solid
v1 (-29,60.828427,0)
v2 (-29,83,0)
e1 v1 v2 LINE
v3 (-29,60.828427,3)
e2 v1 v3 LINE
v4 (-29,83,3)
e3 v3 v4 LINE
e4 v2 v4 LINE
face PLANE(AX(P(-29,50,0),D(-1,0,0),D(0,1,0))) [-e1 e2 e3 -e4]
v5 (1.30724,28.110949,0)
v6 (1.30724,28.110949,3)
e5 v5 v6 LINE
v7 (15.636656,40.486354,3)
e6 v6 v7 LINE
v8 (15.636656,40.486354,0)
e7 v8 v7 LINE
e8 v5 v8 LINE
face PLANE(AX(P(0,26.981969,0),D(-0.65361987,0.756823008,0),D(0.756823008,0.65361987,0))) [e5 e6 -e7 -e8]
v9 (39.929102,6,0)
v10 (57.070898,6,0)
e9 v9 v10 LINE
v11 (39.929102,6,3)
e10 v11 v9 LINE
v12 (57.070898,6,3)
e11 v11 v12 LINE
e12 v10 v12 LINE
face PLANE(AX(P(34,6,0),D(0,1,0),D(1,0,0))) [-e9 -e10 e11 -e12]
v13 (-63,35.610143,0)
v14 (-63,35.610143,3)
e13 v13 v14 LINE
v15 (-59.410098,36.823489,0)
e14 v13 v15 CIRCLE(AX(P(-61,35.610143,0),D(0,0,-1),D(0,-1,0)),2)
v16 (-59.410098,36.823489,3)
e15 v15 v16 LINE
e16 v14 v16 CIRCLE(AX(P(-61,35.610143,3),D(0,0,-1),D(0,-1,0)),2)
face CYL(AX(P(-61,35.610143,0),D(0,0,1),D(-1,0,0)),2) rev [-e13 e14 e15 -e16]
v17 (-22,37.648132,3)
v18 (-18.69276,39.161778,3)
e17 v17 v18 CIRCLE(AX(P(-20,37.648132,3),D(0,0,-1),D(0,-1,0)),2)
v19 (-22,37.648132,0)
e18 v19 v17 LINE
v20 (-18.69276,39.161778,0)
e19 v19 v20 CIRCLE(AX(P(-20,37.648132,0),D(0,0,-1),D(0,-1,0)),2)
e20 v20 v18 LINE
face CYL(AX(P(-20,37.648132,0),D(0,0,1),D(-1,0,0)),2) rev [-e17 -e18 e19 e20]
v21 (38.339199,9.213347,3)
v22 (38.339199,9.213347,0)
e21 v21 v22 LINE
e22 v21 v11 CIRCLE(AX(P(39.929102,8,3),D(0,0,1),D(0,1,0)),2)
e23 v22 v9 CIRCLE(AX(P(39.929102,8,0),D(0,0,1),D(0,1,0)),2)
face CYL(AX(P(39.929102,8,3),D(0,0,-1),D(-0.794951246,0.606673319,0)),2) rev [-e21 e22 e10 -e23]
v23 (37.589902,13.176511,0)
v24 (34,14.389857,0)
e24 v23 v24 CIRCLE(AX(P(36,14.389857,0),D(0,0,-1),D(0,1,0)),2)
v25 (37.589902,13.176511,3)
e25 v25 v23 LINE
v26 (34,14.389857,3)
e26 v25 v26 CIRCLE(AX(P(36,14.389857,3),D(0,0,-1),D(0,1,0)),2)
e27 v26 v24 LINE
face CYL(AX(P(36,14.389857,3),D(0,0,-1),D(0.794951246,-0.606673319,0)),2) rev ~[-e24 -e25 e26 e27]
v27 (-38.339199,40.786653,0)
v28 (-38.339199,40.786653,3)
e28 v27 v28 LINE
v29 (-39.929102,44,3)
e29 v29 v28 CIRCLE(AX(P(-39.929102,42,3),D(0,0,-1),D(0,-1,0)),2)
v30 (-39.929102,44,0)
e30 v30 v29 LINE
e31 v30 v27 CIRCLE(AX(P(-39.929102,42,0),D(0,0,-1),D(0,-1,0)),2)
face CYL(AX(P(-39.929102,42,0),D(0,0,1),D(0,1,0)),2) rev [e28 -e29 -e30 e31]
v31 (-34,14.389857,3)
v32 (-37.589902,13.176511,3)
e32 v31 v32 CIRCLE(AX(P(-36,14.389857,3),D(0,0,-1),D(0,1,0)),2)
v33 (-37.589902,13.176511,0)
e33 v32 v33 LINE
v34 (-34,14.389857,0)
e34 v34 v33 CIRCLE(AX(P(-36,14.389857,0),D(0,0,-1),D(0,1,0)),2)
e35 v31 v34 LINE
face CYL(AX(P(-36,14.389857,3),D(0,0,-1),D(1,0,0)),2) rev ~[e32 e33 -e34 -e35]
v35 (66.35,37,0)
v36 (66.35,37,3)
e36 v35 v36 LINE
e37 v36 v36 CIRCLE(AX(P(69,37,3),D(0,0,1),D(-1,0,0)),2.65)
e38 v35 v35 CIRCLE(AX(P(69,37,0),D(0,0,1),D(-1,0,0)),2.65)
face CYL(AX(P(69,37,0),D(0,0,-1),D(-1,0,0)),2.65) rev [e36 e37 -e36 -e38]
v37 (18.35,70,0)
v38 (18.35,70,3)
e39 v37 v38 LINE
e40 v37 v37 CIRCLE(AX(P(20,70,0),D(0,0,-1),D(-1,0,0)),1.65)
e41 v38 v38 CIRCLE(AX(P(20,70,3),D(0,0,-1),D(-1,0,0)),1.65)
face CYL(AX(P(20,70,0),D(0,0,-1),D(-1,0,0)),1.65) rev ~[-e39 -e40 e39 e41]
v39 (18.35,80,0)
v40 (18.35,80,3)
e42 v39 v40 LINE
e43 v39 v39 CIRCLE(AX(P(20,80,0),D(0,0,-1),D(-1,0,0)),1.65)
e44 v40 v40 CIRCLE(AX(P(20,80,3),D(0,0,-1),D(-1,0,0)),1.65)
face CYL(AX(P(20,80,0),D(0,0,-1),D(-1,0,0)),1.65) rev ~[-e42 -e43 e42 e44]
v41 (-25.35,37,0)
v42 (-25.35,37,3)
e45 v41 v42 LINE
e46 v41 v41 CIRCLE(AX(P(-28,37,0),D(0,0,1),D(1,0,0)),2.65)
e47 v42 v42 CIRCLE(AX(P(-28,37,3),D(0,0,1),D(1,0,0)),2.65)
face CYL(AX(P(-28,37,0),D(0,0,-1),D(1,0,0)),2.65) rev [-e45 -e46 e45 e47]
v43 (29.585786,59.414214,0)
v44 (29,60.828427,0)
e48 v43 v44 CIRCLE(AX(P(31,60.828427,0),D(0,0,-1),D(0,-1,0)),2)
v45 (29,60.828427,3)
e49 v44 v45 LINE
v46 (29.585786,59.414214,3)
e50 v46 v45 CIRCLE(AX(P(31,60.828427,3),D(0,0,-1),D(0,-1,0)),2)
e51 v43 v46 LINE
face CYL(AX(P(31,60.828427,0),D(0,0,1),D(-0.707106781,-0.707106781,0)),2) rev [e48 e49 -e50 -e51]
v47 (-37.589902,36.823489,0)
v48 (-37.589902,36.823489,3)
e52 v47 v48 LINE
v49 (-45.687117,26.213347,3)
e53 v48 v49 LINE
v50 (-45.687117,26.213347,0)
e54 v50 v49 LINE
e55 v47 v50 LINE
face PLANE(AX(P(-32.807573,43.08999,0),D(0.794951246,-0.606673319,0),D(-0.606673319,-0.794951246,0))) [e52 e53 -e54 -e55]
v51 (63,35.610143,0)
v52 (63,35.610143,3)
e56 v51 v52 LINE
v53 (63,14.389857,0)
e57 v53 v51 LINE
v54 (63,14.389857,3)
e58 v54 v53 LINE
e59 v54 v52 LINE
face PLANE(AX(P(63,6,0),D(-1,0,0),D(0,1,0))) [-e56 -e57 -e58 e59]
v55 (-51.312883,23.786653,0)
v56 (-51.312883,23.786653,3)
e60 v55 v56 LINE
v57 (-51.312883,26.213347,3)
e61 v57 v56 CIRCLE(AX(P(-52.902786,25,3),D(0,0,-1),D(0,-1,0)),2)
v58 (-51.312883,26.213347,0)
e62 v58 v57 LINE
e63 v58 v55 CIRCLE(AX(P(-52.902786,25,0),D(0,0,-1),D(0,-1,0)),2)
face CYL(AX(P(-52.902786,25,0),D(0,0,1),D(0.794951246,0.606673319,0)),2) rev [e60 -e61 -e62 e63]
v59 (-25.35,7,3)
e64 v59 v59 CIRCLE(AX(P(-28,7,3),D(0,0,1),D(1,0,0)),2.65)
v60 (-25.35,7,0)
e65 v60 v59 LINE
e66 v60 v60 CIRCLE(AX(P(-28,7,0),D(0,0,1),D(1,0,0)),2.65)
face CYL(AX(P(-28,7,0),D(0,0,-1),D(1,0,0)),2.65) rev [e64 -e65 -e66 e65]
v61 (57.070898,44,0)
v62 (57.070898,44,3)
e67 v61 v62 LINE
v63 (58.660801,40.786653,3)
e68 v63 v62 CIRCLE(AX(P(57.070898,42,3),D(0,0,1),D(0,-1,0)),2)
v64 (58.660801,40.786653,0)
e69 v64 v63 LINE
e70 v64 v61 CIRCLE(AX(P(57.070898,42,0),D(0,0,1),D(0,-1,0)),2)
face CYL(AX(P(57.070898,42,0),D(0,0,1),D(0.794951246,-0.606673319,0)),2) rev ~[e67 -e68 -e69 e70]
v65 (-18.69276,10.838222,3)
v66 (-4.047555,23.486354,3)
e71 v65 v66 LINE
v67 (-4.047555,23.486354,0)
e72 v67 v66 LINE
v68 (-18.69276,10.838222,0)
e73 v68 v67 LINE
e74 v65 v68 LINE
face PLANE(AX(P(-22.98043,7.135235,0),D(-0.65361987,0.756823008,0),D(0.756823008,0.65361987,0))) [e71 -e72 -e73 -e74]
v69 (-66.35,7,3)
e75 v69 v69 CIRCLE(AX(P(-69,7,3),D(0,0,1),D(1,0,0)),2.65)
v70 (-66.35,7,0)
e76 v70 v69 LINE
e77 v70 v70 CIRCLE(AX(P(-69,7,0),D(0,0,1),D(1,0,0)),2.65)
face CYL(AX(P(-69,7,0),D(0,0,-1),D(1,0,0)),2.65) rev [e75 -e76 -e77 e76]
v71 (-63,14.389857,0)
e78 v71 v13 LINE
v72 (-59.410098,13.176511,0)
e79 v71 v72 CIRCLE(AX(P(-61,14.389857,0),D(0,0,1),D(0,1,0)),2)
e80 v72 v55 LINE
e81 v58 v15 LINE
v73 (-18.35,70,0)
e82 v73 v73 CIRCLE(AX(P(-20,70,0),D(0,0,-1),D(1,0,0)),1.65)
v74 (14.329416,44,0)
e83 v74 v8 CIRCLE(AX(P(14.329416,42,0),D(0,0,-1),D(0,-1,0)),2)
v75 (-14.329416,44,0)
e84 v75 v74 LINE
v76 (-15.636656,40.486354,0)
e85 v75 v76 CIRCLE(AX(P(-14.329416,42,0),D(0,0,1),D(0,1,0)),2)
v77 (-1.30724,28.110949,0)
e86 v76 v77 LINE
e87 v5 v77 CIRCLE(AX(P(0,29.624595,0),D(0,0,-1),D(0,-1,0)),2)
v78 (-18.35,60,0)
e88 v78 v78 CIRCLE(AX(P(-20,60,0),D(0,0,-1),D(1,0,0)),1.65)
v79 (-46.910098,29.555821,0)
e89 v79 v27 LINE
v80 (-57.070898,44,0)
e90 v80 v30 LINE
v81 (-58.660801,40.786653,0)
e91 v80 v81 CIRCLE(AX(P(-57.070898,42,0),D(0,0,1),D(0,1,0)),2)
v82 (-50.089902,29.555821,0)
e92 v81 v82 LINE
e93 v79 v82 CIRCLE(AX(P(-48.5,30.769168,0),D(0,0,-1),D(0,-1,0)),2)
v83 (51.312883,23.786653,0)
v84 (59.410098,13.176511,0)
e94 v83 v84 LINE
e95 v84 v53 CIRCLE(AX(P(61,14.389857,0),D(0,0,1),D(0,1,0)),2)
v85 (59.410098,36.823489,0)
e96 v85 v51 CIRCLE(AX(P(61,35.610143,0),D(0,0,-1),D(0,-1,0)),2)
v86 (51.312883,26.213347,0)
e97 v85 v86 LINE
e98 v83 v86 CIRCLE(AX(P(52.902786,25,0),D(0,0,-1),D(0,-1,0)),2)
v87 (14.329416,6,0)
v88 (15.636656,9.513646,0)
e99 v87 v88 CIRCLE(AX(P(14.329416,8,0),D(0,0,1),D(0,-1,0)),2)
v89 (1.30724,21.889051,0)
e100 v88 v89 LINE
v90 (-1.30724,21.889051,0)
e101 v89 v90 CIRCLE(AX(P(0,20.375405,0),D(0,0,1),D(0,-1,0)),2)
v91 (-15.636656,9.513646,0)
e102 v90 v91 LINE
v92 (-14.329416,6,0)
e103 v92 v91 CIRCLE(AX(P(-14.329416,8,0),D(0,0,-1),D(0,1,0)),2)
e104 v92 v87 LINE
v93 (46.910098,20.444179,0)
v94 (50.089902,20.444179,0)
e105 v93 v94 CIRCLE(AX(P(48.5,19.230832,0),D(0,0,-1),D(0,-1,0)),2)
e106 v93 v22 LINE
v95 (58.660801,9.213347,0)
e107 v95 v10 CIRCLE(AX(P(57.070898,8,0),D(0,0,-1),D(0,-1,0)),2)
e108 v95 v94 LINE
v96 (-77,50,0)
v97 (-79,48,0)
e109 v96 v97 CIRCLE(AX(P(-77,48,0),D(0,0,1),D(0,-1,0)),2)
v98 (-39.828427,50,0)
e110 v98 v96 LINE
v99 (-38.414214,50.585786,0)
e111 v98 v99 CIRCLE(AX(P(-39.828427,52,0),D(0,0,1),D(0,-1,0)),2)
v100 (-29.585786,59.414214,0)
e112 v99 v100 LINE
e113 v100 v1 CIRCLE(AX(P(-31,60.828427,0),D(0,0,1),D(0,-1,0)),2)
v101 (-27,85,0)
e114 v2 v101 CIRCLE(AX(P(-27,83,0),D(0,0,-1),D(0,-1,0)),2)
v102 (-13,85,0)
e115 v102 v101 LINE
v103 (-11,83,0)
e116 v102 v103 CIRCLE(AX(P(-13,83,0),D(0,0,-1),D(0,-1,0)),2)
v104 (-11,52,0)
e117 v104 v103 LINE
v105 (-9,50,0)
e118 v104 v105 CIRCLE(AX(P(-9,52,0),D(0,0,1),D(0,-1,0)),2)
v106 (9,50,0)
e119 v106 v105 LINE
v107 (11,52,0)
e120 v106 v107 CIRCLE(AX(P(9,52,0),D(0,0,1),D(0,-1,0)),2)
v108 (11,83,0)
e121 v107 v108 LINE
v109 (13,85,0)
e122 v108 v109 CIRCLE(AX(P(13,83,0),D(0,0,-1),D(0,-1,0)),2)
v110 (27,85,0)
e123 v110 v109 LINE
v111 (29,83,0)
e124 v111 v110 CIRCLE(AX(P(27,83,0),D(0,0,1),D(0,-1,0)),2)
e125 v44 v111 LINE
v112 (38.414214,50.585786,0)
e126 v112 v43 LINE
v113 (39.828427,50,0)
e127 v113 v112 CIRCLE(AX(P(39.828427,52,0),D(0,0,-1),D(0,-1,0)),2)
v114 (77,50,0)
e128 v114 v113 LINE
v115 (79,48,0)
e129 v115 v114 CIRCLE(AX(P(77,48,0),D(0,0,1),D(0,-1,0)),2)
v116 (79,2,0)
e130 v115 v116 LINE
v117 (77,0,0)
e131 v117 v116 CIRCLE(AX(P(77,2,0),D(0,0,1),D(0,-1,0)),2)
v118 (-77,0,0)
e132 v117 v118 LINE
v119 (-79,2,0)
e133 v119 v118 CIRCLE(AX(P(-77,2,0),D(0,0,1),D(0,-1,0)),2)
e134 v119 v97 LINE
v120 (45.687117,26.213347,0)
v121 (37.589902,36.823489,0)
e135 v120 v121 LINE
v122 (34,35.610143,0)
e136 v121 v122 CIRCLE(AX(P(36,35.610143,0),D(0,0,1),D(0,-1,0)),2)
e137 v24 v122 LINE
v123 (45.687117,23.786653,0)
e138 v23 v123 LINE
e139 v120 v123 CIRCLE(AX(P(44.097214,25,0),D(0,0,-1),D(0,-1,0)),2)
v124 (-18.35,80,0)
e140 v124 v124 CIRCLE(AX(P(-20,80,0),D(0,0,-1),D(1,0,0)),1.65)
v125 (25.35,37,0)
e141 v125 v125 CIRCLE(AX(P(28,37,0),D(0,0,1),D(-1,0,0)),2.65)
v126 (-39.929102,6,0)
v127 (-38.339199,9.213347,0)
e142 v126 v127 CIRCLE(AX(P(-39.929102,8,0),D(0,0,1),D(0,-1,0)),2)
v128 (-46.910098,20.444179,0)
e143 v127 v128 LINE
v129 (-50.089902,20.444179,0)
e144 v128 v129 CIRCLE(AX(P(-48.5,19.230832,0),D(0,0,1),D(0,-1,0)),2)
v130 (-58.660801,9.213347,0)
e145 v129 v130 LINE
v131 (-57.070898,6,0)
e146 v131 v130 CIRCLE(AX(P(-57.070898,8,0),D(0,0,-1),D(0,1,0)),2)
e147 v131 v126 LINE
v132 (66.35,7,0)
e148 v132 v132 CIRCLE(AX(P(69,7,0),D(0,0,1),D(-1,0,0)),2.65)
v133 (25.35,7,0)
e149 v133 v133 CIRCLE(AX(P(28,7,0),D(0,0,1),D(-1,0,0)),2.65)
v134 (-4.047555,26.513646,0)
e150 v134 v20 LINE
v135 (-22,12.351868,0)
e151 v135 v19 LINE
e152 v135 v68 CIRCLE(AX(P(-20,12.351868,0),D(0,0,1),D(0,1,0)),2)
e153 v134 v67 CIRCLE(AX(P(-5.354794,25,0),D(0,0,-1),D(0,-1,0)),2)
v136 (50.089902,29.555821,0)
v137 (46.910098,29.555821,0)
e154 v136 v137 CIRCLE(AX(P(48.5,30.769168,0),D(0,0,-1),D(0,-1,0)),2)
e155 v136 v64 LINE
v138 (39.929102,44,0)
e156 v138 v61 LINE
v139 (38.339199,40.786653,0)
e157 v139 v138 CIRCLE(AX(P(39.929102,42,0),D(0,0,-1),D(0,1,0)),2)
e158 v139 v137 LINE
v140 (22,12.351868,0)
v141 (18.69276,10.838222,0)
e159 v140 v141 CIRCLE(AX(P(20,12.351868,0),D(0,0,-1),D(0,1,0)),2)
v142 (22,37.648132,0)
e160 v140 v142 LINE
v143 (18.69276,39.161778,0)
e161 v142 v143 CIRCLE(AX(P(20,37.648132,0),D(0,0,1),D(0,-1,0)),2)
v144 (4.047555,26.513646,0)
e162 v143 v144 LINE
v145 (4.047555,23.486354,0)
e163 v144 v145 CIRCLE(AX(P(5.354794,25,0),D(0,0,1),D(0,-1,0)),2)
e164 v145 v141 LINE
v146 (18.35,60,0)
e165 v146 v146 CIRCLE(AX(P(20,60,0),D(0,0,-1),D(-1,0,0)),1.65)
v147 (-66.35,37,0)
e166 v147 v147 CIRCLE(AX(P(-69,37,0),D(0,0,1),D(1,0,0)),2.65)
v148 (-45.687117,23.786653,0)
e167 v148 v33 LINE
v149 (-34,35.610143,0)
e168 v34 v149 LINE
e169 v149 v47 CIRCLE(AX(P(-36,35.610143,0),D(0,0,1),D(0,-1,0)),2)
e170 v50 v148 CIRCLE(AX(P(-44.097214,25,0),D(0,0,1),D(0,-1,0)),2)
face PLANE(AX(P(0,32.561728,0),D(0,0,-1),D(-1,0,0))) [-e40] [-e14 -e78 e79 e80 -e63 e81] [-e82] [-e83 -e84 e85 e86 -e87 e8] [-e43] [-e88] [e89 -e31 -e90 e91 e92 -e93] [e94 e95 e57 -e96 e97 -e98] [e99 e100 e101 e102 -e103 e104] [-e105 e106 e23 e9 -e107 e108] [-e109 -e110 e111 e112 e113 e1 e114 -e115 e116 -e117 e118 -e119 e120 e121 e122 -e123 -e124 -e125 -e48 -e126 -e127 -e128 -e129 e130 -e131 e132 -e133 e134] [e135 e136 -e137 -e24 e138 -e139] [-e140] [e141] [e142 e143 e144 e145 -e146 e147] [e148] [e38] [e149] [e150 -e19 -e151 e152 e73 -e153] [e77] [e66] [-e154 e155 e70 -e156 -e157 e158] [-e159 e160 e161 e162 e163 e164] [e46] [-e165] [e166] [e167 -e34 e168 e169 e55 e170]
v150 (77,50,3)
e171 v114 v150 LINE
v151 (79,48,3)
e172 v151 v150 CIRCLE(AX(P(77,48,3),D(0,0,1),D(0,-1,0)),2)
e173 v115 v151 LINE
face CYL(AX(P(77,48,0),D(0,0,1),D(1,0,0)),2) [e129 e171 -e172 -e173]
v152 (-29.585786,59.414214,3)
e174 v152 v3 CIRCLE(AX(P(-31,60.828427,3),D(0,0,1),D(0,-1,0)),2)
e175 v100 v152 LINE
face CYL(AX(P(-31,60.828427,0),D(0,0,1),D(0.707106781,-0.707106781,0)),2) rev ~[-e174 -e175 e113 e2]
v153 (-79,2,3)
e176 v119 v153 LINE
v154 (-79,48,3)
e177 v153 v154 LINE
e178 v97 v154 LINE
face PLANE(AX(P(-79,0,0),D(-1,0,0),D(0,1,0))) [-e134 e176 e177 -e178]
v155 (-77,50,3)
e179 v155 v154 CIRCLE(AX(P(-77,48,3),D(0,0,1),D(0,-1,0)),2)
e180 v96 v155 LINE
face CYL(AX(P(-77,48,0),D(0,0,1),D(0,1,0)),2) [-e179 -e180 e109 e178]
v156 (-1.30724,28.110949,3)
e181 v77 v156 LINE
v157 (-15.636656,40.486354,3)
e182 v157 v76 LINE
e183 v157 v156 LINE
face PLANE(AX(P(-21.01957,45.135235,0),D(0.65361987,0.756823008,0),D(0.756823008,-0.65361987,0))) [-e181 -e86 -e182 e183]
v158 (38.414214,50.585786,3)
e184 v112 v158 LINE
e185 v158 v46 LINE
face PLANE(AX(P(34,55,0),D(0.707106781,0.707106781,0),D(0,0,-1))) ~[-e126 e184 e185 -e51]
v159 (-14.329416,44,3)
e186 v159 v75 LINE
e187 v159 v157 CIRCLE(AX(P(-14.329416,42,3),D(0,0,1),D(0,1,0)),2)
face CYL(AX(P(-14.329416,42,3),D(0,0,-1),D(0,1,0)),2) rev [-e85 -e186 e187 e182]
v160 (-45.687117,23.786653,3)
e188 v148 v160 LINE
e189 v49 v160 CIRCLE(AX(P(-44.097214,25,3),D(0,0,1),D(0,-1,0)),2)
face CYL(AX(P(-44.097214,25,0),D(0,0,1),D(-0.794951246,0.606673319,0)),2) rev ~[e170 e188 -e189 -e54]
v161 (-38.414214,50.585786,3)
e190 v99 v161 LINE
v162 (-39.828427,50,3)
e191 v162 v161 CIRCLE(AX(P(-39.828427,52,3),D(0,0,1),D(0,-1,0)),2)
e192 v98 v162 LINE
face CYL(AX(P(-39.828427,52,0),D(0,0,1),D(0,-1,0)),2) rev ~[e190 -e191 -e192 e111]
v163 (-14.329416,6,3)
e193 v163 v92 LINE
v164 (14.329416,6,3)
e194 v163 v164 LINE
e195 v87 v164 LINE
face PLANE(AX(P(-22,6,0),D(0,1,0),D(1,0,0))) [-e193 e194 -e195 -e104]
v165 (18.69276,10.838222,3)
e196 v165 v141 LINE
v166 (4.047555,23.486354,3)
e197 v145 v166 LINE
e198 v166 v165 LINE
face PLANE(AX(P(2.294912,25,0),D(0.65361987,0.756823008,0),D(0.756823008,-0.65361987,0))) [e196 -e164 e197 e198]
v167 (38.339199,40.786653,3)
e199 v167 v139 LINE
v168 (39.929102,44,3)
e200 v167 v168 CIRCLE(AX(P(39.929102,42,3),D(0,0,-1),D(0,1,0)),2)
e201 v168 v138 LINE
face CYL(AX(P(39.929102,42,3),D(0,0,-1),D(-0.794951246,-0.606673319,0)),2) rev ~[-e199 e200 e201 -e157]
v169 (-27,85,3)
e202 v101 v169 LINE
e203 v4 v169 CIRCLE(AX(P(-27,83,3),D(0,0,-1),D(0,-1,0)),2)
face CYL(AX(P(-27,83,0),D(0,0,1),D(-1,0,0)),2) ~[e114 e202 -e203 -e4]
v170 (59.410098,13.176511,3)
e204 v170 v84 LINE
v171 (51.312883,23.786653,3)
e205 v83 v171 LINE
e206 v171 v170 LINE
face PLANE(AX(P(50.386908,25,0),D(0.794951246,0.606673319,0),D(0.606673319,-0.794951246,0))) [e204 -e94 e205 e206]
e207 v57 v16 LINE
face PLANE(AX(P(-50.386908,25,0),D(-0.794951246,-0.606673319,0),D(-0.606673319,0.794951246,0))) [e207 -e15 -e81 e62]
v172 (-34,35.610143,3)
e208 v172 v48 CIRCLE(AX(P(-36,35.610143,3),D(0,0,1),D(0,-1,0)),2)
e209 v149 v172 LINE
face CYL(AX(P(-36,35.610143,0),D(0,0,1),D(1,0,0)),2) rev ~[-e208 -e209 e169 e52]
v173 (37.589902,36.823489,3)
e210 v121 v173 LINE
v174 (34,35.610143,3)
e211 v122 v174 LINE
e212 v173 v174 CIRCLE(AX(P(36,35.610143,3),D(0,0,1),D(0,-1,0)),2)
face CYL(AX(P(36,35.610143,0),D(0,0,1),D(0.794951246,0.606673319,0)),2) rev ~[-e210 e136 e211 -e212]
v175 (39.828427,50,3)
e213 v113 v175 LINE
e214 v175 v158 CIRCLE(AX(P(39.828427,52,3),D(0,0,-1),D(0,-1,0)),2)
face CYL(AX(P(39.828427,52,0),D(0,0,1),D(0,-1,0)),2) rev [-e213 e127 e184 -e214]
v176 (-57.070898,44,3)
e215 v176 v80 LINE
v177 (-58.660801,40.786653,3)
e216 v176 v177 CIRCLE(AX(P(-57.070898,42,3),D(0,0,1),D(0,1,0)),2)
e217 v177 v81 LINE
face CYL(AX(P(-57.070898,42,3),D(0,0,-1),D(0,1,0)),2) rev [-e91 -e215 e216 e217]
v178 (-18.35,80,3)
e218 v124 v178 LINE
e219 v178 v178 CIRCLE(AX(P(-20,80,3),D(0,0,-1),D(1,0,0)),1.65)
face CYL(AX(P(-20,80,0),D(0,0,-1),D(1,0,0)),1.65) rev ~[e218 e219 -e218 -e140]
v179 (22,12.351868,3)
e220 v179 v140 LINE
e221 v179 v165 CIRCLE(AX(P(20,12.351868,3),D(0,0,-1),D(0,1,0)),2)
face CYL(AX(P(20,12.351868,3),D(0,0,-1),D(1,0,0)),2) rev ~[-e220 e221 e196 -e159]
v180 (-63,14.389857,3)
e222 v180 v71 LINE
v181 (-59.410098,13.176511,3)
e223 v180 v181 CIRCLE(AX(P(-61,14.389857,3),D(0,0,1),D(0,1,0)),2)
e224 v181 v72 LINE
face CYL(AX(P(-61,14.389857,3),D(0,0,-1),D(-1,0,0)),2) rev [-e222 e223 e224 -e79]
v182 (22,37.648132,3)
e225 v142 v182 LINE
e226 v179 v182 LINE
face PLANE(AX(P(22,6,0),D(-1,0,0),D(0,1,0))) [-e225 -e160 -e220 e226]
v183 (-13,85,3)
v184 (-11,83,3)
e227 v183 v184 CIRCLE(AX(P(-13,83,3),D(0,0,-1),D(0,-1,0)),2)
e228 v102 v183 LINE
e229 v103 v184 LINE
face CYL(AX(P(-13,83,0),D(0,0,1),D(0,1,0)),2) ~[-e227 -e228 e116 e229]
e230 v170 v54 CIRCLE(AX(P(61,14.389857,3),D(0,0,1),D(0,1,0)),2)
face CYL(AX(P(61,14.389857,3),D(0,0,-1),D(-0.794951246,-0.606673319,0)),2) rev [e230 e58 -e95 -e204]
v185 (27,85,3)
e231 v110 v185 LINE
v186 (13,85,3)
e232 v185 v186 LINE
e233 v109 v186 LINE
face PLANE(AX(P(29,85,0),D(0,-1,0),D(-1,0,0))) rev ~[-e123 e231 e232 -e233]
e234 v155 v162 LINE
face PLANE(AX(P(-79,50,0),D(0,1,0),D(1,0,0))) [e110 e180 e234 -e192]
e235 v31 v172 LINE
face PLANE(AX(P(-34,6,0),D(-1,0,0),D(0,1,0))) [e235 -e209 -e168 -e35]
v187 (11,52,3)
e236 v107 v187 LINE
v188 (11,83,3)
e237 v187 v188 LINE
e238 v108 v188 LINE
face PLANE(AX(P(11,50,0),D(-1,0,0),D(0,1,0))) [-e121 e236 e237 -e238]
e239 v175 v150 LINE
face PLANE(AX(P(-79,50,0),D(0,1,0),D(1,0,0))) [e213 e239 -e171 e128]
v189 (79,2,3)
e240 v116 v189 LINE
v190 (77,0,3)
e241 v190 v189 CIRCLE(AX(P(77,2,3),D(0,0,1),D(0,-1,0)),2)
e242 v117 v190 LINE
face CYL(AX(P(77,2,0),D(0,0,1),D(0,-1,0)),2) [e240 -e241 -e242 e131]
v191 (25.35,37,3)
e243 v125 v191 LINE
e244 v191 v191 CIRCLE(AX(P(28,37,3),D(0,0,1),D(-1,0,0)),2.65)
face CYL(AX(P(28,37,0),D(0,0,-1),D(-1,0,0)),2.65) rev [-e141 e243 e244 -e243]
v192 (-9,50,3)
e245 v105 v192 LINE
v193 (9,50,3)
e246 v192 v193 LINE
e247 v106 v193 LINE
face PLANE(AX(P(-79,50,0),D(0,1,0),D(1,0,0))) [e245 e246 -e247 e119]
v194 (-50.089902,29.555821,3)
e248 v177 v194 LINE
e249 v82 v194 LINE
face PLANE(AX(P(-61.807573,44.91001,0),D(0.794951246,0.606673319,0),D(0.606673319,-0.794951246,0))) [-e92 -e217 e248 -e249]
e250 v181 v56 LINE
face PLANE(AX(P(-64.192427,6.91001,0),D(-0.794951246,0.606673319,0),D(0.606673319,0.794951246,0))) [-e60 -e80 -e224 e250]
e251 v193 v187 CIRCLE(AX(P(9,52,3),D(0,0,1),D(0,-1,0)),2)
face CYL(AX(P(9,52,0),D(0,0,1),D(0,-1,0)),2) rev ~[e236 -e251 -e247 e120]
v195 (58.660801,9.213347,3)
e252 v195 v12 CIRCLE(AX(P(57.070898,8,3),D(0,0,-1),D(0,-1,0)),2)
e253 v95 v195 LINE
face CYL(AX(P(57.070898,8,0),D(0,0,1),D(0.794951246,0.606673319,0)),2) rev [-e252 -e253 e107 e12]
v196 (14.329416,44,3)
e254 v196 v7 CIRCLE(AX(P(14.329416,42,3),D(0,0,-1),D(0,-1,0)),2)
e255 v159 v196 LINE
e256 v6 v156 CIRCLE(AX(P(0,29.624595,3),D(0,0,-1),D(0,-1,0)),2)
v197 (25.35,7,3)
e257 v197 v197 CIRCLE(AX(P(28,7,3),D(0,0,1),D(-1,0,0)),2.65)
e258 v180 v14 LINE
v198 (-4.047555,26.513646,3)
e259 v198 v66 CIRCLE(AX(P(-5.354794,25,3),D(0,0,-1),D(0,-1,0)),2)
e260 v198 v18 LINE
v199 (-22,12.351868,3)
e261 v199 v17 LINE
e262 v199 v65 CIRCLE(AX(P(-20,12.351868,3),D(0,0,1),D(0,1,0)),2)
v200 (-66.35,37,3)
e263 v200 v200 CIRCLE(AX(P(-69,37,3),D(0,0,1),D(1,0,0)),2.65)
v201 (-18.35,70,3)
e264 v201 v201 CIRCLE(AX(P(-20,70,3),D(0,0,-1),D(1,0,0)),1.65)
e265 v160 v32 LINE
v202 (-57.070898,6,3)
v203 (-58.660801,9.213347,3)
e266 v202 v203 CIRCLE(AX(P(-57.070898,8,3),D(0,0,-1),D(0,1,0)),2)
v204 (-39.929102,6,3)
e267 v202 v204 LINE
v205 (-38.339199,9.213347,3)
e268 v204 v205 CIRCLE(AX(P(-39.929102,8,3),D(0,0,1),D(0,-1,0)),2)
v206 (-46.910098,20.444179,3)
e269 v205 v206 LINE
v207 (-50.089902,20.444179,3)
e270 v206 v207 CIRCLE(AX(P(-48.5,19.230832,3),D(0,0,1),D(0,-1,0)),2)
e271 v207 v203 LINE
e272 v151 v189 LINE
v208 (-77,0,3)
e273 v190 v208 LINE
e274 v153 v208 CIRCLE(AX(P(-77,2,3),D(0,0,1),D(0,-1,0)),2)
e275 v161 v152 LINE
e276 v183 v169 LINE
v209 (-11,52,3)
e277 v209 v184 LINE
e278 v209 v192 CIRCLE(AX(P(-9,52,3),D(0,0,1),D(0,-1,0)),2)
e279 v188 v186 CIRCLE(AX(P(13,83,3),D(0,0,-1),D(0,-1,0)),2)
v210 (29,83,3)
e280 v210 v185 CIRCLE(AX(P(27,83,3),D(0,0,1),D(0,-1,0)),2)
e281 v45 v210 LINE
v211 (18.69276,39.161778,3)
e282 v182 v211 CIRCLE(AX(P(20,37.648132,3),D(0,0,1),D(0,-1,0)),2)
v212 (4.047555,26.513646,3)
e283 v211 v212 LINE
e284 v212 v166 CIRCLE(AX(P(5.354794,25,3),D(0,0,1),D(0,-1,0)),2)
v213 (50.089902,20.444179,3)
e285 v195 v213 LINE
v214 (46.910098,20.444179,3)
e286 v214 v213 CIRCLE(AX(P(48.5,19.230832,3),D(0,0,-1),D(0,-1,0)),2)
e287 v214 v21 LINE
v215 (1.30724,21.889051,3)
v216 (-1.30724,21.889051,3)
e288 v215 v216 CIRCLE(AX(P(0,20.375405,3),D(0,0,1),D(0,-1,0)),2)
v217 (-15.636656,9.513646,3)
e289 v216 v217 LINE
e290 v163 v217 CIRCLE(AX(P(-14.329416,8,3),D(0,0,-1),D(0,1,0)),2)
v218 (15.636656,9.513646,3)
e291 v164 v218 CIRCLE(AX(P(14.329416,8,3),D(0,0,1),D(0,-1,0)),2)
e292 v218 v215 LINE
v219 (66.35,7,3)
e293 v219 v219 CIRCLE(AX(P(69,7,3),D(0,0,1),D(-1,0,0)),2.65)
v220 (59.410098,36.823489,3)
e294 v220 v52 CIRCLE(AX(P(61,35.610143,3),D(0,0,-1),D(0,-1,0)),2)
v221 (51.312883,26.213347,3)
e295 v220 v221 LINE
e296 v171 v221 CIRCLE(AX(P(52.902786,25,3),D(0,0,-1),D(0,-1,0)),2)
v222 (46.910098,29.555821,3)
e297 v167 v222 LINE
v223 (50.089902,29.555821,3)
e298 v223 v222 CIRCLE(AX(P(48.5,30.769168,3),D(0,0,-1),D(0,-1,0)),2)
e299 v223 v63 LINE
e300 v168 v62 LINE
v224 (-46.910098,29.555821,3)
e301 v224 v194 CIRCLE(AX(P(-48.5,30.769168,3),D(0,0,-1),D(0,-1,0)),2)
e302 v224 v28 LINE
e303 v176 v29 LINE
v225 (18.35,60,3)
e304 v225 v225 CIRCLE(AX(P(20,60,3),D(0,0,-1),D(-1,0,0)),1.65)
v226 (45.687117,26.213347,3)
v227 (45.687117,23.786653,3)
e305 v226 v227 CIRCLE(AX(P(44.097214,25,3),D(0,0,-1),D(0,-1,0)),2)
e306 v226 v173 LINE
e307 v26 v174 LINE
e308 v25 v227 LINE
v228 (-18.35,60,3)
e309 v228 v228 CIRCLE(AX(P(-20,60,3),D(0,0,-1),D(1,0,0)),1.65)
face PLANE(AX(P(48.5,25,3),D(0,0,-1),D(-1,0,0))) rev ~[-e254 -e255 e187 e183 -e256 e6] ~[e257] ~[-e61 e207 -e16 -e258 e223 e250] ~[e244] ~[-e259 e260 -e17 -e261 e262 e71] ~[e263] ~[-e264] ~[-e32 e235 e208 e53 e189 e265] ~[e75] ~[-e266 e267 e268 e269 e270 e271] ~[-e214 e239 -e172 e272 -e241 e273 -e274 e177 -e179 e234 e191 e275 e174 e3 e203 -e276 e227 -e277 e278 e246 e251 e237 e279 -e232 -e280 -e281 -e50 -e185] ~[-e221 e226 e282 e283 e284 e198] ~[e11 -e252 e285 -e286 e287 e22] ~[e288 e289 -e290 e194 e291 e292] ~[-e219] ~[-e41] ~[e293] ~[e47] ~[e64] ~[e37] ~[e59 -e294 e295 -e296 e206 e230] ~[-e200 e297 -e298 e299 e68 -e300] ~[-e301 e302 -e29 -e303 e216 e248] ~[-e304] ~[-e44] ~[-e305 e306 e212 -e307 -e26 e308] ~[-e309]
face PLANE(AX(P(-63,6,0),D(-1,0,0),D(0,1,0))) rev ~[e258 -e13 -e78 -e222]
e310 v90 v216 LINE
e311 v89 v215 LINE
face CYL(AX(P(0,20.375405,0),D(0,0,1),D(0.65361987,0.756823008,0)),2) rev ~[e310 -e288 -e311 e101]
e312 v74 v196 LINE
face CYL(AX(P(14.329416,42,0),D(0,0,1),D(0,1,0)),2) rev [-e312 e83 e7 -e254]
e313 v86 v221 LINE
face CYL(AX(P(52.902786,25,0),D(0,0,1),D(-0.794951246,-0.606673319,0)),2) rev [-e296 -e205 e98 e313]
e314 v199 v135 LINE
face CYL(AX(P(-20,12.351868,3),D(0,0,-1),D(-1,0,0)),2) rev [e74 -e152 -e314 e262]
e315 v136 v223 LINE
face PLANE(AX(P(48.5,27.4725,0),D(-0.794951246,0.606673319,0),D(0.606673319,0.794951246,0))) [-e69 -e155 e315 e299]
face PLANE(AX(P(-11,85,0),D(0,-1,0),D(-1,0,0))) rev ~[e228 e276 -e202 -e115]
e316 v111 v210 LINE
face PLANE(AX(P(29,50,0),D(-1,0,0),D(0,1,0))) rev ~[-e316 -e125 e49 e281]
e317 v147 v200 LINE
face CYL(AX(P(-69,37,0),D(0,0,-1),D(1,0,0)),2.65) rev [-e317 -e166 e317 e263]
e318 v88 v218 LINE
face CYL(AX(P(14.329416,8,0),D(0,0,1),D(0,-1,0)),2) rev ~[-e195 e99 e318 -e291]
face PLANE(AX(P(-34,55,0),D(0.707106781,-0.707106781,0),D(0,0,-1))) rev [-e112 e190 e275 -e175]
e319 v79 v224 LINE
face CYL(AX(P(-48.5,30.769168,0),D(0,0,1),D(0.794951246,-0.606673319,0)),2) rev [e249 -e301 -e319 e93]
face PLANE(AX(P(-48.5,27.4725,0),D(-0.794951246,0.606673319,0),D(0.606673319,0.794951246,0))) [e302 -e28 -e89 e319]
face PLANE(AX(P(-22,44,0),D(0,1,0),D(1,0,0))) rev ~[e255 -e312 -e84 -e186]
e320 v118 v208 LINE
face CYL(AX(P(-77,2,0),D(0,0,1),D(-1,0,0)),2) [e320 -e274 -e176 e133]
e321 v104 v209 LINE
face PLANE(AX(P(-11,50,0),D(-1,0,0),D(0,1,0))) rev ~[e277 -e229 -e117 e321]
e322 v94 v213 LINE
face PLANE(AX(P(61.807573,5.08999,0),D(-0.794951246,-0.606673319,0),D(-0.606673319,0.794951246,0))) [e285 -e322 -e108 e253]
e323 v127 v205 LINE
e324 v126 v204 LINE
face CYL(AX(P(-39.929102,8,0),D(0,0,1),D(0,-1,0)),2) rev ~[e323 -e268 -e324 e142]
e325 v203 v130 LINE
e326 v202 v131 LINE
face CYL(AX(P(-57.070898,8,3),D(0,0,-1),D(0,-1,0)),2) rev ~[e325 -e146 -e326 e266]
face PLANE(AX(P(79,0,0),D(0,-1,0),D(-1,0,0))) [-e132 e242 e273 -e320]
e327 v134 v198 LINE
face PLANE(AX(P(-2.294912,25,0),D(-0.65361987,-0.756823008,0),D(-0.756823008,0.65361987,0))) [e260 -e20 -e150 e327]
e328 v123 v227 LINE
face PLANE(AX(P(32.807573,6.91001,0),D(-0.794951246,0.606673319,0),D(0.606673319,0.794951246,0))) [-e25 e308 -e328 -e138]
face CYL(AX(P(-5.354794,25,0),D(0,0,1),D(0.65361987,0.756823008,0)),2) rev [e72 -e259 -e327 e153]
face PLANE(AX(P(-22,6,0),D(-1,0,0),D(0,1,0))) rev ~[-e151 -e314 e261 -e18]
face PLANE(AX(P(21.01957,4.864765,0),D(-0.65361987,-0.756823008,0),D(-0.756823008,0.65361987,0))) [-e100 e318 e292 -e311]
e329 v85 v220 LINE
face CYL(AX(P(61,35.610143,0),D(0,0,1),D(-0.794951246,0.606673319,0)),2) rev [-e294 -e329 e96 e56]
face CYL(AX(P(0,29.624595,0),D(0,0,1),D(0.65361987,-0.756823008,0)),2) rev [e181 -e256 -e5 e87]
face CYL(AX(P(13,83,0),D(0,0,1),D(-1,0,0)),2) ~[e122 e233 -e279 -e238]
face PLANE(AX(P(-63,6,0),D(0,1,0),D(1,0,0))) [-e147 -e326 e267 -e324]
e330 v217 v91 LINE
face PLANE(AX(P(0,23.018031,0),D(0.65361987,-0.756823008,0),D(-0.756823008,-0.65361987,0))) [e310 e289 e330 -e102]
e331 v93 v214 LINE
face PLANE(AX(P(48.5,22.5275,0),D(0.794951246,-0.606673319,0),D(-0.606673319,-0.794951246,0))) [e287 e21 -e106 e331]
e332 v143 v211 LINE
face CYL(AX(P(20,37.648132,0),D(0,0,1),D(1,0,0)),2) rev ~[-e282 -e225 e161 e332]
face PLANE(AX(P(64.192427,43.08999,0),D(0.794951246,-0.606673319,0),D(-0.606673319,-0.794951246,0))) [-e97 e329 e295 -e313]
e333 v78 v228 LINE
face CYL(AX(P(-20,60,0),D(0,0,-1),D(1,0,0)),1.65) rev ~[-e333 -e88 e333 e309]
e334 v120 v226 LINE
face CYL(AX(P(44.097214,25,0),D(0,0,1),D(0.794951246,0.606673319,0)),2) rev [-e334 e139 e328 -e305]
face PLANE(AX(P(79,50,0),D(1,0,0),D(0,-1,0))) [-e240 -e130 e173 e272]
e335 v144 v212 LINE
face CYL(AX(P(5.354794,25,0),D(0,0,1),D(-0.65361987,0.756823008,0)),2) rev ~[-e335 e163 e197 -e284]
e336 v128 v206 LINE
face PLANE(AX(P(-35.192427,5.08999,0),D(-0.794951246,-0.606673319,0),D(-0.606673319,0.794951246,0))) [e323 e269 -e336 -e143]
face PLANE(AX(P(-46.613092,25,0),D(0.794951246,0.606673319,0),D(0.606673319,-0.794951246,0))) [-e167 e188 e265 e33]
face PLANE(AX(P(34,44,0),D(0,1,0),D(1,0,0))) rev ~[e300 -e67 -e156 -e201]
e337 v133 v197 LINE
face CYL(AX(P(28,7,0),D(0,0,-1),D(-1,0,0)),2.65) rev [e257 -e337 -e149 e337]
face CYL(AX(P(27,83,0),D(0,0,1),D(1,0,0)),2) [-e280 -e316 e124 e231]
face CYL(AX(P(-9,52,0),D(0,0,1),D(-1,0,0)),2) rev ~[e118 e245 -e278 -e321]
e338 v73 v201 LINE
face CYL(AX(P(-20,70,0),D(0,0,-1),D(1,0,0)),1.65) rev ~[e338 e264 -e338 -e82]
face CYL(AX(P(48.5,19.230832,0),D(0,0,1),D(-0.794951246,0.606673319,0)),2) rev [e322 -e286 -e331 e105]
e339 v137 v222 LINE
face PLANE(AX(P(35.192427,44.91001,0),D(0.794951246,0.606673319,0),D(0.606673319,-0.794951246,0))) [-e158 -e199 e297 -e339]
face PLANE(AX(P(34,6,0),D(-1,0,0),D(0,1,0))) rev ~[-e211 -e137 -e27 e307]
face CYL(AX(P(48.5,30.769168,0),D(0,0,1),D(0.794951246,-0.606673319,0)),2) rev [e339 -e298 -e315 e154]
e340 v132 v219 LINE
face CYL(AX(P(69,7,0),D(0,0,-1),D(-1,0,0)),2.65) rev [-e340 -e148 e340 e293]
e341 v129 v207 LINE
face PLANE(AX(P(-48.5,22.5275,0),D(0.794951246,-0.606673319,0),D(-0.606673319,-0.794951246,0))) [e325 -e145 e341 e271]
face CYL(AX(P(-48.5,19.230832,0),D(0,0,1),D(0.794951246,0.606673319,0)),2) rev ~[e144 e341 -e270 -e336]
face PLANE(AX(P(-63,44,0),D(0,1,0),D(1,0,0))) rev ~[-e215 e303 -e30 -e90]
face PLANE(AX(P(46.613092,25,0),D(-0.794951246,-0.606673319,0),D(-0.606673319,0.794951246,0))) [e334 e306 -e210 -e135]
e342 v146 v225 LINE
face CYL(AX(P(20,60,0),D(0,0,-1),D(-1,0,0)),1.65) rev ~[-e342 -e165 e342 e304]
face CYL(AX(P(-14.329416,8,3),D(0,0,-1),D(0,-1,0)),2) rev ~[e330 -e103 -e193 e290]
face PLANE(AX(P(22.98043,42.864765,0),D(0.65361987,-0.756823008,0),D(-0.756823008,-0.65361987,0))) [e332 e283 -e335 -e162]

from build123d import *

# Parameters (mm, degrees)
SKETCH_1_R          = 1.55
SKETCH_1_R_2        = 2.65
SKETCH_1_W          = 29
SKETCH_1_H          = 38
SKETCH_1_W_2        = 44
EXTRUDE_1_DEPTH     = 3
SKETCH_4_W          = 20
SKETCH_4_H          = 35
CUT_EXTRUDE_1_DEPTH = 10
SKETCH_3_W          = 18
SKETCH_3_H          = 35
EXTRUDE_2_DEPTH     = 3
SKETCH_5_R          = 1.65
CUT_EXTRUDE_2_DEPTH = 5
CHAMFER_1_SIZE      = 10
FILLET_1_R          = 2
EXTRUDE_1_2_DEPTH   = 3
FILLET_3_R          = 2


with BuildPart() as part:
    # 草图1 → Extrude 1 (new body)
    with BuildSketch(Plane.XY):
        Polygon((-10, 50), (-10, 85), (10, 85), (10, 50), (79, 50), (79, 0), (-79, 0), (-79, 50), align=None)
        with Locations((-6, 81)):
            Circle(SKETCH_1_R, mode=Mode.SUBTRACT)
        with Locations(Location((6, 81, 0), (0, 0, 180))):
            Circle(SKETCH_1_R, mode=Mode.SUBTRACT)
        with Locations((-6, 59)):
            Circle(SKETCH_1_R, mode=Mode.SUBTRACT)
        with Locations(Location((6, 59, 0), (0, 0, 180))):
            Circle(SKETCH_1_R, mode=Mode.SUBTRACT)
        with Locations((-69, 37)):
            Circle(SKETCH_1_R_2, mode=Mode.SUBTRACT)
        with Locations((-69, 7)):
            Circle(SKETCH_1_R_2, mode=Mode.SUBTRACT)
        with Locations(Location((69, 7, 0), (0, 0, 180))):
            Circle(SKETCH_1_R_2, mode=Mode.SUBTRACT)
        with Locations(Location((69, 37, 0), (0, 0, 180))):
            Circle(SKETCH_1_R_2, mode=Mode.SUBTRACT)
        with Locations((-28, 37)):
            Circle(SKETCH_1_R_2, mode=Mode.SUBTRACT)
        with Locations((-28, 7)):
            Circle(SKETCH_1_R_2, mode=Mode.SUBTRACT)
        with Locations(Location((28, 7, 0), (0, 0, 180))):
            Circle(SKETCH_1_R_2, mode=Mode.SUBTRACT)
        with Locations(Location((28, 37, 0), (0, 0, 180))):
            Circle(SKETCH_1_R_2, mode=Mode.SUBTRACT)
        with Locations((-48.5, 25)):
            Rectangle(SKETCH_1_W, SKETCH_1_H, mode=Mode.SUBTRACT)
        with Locations((48.5, 25)):
            Rectangle(SKETCH_1_W, SKETCH_1_H, mode=Mode.SUBTRACT)
        with Locations((0, 25)):
            Rectangle(SKETCH_1_W_2, SKETCH_1_H, mode=Mode.SUBTRACT)
    extrude(amount=EXTRUDE_1_DEPTH)

    # 草图4 → 切除-拉伸1 (cut)
    with BuildSketch(Plane(origin=(0, 0, 0), x_dir=(-1, 0, 0), z_dir=(0, 0, -1))):
        with Locations((0, 67.5)):
            Rectangle(SKETCH_4_W, SKETCH_4_H)
    extrude(amount=-CUT_EXTRUDE_1_DEPTH, mode=Mode.SUBTRACT)

    # 草图3 → 凸台-拉伸2 (add)
    with BuildSketch(Plane(origin=(0, 0, 0), x_dir=(-1, 0, 0), z_dir=(0, 0, -1))):
        with Locations((-20, 67.5)):
            Rectangle(SKETCH_3_W, SKETCH_3_H)
        with Locations((20, 67.5)):
            Rectangle(SKETCH_3_W, SKETCH_3_H)
    extrude(amount=-EXTRUDE_2_DEPTH)

    # 草图5 → 切除-拉伸2 (cut)
    with BuildSketch(Plane(origin=(0, 0, 0), x_dir=(-1, 0, 0), z_dir=(0, 0, -1))):
        with Locations((-20, 80)):
            Circle(SKETCH_5_R)
        with Locations((-20, 70)):
            Circle(SKETCH_5_R)
        with Locations((-20, 60)):
            Circle(SKETCH_5_R)
        with Locations(Location((20, 60, 0), (0, 0, 180))):
            Circle(SKETCH_5_R)
        with Locations(Location((20, 70, 0), (0, 0, 180))):
            Circle(SKETCH_5_R)
        with Locations(Location((20, 80, 0), (0, 0, 180))):
            Circle(SKETCH_5_R)
    extrude(amount=-CUT_EXTRUDE_2_DEPTH, mode=Mode.SUBTRACT)

    # 倒角1
    chamfer_1_edges = [part.edges().sort_by_distance(p)[0] for p in [
        (29, 50, 1.5),
        (-29, 50, 1.5),
    ]]
    chamfer(chamfer_1_edges, length=CHAMFER_1_SIZE)

    # 圆角1
    fillet_1_edges = [part.edges().sort_by_distance(p)[0] for p in [
        (79, 50, 1.5),
        (79, 0, 1.5),
        (-79, 0, 1.5),
        (-79, 50, 1.5),
        (11, 85, 1.5),
        (11, 50, 1.5),
        (29, 85, 1.5),
        (-29, 85, 1.5),
        (-11, 50, 1.5),
        (-11, 85, 1.5),
        (-39, 50, 1.5),
        (-29, 60, 1.5),
        (29, 60, 1.5),
        (39, 50, 1.5),
    ]]
    fillet(fillet_1_edges, radius=FILLET_1_R)

    # 草图6 → Extrude 1 2 (add)
    with BuildSketch(Plane(origin=(0, 0, 0), x_dir=(-1, 0, 0), z_dir=(0, 0, -1))):
        Polygon((-64.192426869, 43.089990021), (-35.192426869, 5.089990021), (-32.807573131, 6.910009979), (-61.807573131, 44.910009979), align=None)
        Polygon((-35.192426869, 44.910009979), (-64.192426869, 6.910009979), (-61.807573131, 5.089990021), (-32.807573131, 43.089990021), align=None)
        Polygon((-22.980429806, 42.864765488), (21.019570194, 4.864765488), (22.980429806, 7.135234512), (-21.019570194, 45.135234512), align=None)
        Polygon((21.019570194, 45.135234512), (-22.980429806, 7.135234512), (-21.019570194, 4.864765488), (22.980429806, 42.864765488), align=None)
        Polygon((32.807573131, 43.089990021), (61.807573131, 5.089990021), (64.192426869, 6.910009979), (35.192426869, 44.910009979), align=None)
        Polygon((61.807573131, 44.910009979), (32.807573131, 6.910009979), (35.192426869, 5.089990021), (64.192426869, 43.089990021), align=None)
    extrude(amount=-EXTRUDE_1_2_DEPTH)

    # 圆角3
    fillet_3_edges = [part.edges().sort_by_distance(p)[0] for p in [
        (35.886908169, 44, 1.5),
        (61.113091831, 44, 1.5),
        (63, 8.472500359, 1.5),
        (63, 41.527499641, 1.5),
        (61.113091831, 6, 1.5),
        (35.886908169, 6, 1.5),
        (34, 41.527499641, 1.5),
        (34, 8.472500359, 1.5),
        (48.5, 22.527499641, 1.5),
        (48.5, 27.472500359, 1.5),
        (46.613091831, 25, 1.5),
        (50.386908169, 25, 1.5),
        (-19.705088128, 44, 1.5),
        (19.705088128, 44, 1.5),
        (22, 7.981969344, 1.5),
        (22, 42.018030656, 1.5),
        (19.705088128, 6, 1.5),
        (-19.705088128, 6, 1.5),
        (-22, 42.018030656, 1.5),
        (-22, 7.981969344, 1.5),
        (0, 23.018030656, 1.5),
        (0, 26.981969344, 1.5),
        (-2.294911872, 25, 1.5),
        (2.294911872, 25, 1.5),
        (-63, 41.527499641, 1.5),
        (-63, 8.472500359, 1.5),
        (-61.113091831, 44, 1.5),
        (-35.886908169, 44, 1.5),
        (-34, 8.472500359, 1.5),
        (-34, 41.527499641, 1.5),
        (-35.886908169, 6, 1.5),
        (-61.113091831, 6, 1.5),
        (-48.5, 22.527499641, 1.5),
        (-48.5, 27.472500359, 1.5),
        (-50.386908169, 25, 1.5),
        (-46.613091831, 25, 1.5),
    ]]
    fillet(fillet_3_edges, radius=FILLET_3_R)


solid = part.part
